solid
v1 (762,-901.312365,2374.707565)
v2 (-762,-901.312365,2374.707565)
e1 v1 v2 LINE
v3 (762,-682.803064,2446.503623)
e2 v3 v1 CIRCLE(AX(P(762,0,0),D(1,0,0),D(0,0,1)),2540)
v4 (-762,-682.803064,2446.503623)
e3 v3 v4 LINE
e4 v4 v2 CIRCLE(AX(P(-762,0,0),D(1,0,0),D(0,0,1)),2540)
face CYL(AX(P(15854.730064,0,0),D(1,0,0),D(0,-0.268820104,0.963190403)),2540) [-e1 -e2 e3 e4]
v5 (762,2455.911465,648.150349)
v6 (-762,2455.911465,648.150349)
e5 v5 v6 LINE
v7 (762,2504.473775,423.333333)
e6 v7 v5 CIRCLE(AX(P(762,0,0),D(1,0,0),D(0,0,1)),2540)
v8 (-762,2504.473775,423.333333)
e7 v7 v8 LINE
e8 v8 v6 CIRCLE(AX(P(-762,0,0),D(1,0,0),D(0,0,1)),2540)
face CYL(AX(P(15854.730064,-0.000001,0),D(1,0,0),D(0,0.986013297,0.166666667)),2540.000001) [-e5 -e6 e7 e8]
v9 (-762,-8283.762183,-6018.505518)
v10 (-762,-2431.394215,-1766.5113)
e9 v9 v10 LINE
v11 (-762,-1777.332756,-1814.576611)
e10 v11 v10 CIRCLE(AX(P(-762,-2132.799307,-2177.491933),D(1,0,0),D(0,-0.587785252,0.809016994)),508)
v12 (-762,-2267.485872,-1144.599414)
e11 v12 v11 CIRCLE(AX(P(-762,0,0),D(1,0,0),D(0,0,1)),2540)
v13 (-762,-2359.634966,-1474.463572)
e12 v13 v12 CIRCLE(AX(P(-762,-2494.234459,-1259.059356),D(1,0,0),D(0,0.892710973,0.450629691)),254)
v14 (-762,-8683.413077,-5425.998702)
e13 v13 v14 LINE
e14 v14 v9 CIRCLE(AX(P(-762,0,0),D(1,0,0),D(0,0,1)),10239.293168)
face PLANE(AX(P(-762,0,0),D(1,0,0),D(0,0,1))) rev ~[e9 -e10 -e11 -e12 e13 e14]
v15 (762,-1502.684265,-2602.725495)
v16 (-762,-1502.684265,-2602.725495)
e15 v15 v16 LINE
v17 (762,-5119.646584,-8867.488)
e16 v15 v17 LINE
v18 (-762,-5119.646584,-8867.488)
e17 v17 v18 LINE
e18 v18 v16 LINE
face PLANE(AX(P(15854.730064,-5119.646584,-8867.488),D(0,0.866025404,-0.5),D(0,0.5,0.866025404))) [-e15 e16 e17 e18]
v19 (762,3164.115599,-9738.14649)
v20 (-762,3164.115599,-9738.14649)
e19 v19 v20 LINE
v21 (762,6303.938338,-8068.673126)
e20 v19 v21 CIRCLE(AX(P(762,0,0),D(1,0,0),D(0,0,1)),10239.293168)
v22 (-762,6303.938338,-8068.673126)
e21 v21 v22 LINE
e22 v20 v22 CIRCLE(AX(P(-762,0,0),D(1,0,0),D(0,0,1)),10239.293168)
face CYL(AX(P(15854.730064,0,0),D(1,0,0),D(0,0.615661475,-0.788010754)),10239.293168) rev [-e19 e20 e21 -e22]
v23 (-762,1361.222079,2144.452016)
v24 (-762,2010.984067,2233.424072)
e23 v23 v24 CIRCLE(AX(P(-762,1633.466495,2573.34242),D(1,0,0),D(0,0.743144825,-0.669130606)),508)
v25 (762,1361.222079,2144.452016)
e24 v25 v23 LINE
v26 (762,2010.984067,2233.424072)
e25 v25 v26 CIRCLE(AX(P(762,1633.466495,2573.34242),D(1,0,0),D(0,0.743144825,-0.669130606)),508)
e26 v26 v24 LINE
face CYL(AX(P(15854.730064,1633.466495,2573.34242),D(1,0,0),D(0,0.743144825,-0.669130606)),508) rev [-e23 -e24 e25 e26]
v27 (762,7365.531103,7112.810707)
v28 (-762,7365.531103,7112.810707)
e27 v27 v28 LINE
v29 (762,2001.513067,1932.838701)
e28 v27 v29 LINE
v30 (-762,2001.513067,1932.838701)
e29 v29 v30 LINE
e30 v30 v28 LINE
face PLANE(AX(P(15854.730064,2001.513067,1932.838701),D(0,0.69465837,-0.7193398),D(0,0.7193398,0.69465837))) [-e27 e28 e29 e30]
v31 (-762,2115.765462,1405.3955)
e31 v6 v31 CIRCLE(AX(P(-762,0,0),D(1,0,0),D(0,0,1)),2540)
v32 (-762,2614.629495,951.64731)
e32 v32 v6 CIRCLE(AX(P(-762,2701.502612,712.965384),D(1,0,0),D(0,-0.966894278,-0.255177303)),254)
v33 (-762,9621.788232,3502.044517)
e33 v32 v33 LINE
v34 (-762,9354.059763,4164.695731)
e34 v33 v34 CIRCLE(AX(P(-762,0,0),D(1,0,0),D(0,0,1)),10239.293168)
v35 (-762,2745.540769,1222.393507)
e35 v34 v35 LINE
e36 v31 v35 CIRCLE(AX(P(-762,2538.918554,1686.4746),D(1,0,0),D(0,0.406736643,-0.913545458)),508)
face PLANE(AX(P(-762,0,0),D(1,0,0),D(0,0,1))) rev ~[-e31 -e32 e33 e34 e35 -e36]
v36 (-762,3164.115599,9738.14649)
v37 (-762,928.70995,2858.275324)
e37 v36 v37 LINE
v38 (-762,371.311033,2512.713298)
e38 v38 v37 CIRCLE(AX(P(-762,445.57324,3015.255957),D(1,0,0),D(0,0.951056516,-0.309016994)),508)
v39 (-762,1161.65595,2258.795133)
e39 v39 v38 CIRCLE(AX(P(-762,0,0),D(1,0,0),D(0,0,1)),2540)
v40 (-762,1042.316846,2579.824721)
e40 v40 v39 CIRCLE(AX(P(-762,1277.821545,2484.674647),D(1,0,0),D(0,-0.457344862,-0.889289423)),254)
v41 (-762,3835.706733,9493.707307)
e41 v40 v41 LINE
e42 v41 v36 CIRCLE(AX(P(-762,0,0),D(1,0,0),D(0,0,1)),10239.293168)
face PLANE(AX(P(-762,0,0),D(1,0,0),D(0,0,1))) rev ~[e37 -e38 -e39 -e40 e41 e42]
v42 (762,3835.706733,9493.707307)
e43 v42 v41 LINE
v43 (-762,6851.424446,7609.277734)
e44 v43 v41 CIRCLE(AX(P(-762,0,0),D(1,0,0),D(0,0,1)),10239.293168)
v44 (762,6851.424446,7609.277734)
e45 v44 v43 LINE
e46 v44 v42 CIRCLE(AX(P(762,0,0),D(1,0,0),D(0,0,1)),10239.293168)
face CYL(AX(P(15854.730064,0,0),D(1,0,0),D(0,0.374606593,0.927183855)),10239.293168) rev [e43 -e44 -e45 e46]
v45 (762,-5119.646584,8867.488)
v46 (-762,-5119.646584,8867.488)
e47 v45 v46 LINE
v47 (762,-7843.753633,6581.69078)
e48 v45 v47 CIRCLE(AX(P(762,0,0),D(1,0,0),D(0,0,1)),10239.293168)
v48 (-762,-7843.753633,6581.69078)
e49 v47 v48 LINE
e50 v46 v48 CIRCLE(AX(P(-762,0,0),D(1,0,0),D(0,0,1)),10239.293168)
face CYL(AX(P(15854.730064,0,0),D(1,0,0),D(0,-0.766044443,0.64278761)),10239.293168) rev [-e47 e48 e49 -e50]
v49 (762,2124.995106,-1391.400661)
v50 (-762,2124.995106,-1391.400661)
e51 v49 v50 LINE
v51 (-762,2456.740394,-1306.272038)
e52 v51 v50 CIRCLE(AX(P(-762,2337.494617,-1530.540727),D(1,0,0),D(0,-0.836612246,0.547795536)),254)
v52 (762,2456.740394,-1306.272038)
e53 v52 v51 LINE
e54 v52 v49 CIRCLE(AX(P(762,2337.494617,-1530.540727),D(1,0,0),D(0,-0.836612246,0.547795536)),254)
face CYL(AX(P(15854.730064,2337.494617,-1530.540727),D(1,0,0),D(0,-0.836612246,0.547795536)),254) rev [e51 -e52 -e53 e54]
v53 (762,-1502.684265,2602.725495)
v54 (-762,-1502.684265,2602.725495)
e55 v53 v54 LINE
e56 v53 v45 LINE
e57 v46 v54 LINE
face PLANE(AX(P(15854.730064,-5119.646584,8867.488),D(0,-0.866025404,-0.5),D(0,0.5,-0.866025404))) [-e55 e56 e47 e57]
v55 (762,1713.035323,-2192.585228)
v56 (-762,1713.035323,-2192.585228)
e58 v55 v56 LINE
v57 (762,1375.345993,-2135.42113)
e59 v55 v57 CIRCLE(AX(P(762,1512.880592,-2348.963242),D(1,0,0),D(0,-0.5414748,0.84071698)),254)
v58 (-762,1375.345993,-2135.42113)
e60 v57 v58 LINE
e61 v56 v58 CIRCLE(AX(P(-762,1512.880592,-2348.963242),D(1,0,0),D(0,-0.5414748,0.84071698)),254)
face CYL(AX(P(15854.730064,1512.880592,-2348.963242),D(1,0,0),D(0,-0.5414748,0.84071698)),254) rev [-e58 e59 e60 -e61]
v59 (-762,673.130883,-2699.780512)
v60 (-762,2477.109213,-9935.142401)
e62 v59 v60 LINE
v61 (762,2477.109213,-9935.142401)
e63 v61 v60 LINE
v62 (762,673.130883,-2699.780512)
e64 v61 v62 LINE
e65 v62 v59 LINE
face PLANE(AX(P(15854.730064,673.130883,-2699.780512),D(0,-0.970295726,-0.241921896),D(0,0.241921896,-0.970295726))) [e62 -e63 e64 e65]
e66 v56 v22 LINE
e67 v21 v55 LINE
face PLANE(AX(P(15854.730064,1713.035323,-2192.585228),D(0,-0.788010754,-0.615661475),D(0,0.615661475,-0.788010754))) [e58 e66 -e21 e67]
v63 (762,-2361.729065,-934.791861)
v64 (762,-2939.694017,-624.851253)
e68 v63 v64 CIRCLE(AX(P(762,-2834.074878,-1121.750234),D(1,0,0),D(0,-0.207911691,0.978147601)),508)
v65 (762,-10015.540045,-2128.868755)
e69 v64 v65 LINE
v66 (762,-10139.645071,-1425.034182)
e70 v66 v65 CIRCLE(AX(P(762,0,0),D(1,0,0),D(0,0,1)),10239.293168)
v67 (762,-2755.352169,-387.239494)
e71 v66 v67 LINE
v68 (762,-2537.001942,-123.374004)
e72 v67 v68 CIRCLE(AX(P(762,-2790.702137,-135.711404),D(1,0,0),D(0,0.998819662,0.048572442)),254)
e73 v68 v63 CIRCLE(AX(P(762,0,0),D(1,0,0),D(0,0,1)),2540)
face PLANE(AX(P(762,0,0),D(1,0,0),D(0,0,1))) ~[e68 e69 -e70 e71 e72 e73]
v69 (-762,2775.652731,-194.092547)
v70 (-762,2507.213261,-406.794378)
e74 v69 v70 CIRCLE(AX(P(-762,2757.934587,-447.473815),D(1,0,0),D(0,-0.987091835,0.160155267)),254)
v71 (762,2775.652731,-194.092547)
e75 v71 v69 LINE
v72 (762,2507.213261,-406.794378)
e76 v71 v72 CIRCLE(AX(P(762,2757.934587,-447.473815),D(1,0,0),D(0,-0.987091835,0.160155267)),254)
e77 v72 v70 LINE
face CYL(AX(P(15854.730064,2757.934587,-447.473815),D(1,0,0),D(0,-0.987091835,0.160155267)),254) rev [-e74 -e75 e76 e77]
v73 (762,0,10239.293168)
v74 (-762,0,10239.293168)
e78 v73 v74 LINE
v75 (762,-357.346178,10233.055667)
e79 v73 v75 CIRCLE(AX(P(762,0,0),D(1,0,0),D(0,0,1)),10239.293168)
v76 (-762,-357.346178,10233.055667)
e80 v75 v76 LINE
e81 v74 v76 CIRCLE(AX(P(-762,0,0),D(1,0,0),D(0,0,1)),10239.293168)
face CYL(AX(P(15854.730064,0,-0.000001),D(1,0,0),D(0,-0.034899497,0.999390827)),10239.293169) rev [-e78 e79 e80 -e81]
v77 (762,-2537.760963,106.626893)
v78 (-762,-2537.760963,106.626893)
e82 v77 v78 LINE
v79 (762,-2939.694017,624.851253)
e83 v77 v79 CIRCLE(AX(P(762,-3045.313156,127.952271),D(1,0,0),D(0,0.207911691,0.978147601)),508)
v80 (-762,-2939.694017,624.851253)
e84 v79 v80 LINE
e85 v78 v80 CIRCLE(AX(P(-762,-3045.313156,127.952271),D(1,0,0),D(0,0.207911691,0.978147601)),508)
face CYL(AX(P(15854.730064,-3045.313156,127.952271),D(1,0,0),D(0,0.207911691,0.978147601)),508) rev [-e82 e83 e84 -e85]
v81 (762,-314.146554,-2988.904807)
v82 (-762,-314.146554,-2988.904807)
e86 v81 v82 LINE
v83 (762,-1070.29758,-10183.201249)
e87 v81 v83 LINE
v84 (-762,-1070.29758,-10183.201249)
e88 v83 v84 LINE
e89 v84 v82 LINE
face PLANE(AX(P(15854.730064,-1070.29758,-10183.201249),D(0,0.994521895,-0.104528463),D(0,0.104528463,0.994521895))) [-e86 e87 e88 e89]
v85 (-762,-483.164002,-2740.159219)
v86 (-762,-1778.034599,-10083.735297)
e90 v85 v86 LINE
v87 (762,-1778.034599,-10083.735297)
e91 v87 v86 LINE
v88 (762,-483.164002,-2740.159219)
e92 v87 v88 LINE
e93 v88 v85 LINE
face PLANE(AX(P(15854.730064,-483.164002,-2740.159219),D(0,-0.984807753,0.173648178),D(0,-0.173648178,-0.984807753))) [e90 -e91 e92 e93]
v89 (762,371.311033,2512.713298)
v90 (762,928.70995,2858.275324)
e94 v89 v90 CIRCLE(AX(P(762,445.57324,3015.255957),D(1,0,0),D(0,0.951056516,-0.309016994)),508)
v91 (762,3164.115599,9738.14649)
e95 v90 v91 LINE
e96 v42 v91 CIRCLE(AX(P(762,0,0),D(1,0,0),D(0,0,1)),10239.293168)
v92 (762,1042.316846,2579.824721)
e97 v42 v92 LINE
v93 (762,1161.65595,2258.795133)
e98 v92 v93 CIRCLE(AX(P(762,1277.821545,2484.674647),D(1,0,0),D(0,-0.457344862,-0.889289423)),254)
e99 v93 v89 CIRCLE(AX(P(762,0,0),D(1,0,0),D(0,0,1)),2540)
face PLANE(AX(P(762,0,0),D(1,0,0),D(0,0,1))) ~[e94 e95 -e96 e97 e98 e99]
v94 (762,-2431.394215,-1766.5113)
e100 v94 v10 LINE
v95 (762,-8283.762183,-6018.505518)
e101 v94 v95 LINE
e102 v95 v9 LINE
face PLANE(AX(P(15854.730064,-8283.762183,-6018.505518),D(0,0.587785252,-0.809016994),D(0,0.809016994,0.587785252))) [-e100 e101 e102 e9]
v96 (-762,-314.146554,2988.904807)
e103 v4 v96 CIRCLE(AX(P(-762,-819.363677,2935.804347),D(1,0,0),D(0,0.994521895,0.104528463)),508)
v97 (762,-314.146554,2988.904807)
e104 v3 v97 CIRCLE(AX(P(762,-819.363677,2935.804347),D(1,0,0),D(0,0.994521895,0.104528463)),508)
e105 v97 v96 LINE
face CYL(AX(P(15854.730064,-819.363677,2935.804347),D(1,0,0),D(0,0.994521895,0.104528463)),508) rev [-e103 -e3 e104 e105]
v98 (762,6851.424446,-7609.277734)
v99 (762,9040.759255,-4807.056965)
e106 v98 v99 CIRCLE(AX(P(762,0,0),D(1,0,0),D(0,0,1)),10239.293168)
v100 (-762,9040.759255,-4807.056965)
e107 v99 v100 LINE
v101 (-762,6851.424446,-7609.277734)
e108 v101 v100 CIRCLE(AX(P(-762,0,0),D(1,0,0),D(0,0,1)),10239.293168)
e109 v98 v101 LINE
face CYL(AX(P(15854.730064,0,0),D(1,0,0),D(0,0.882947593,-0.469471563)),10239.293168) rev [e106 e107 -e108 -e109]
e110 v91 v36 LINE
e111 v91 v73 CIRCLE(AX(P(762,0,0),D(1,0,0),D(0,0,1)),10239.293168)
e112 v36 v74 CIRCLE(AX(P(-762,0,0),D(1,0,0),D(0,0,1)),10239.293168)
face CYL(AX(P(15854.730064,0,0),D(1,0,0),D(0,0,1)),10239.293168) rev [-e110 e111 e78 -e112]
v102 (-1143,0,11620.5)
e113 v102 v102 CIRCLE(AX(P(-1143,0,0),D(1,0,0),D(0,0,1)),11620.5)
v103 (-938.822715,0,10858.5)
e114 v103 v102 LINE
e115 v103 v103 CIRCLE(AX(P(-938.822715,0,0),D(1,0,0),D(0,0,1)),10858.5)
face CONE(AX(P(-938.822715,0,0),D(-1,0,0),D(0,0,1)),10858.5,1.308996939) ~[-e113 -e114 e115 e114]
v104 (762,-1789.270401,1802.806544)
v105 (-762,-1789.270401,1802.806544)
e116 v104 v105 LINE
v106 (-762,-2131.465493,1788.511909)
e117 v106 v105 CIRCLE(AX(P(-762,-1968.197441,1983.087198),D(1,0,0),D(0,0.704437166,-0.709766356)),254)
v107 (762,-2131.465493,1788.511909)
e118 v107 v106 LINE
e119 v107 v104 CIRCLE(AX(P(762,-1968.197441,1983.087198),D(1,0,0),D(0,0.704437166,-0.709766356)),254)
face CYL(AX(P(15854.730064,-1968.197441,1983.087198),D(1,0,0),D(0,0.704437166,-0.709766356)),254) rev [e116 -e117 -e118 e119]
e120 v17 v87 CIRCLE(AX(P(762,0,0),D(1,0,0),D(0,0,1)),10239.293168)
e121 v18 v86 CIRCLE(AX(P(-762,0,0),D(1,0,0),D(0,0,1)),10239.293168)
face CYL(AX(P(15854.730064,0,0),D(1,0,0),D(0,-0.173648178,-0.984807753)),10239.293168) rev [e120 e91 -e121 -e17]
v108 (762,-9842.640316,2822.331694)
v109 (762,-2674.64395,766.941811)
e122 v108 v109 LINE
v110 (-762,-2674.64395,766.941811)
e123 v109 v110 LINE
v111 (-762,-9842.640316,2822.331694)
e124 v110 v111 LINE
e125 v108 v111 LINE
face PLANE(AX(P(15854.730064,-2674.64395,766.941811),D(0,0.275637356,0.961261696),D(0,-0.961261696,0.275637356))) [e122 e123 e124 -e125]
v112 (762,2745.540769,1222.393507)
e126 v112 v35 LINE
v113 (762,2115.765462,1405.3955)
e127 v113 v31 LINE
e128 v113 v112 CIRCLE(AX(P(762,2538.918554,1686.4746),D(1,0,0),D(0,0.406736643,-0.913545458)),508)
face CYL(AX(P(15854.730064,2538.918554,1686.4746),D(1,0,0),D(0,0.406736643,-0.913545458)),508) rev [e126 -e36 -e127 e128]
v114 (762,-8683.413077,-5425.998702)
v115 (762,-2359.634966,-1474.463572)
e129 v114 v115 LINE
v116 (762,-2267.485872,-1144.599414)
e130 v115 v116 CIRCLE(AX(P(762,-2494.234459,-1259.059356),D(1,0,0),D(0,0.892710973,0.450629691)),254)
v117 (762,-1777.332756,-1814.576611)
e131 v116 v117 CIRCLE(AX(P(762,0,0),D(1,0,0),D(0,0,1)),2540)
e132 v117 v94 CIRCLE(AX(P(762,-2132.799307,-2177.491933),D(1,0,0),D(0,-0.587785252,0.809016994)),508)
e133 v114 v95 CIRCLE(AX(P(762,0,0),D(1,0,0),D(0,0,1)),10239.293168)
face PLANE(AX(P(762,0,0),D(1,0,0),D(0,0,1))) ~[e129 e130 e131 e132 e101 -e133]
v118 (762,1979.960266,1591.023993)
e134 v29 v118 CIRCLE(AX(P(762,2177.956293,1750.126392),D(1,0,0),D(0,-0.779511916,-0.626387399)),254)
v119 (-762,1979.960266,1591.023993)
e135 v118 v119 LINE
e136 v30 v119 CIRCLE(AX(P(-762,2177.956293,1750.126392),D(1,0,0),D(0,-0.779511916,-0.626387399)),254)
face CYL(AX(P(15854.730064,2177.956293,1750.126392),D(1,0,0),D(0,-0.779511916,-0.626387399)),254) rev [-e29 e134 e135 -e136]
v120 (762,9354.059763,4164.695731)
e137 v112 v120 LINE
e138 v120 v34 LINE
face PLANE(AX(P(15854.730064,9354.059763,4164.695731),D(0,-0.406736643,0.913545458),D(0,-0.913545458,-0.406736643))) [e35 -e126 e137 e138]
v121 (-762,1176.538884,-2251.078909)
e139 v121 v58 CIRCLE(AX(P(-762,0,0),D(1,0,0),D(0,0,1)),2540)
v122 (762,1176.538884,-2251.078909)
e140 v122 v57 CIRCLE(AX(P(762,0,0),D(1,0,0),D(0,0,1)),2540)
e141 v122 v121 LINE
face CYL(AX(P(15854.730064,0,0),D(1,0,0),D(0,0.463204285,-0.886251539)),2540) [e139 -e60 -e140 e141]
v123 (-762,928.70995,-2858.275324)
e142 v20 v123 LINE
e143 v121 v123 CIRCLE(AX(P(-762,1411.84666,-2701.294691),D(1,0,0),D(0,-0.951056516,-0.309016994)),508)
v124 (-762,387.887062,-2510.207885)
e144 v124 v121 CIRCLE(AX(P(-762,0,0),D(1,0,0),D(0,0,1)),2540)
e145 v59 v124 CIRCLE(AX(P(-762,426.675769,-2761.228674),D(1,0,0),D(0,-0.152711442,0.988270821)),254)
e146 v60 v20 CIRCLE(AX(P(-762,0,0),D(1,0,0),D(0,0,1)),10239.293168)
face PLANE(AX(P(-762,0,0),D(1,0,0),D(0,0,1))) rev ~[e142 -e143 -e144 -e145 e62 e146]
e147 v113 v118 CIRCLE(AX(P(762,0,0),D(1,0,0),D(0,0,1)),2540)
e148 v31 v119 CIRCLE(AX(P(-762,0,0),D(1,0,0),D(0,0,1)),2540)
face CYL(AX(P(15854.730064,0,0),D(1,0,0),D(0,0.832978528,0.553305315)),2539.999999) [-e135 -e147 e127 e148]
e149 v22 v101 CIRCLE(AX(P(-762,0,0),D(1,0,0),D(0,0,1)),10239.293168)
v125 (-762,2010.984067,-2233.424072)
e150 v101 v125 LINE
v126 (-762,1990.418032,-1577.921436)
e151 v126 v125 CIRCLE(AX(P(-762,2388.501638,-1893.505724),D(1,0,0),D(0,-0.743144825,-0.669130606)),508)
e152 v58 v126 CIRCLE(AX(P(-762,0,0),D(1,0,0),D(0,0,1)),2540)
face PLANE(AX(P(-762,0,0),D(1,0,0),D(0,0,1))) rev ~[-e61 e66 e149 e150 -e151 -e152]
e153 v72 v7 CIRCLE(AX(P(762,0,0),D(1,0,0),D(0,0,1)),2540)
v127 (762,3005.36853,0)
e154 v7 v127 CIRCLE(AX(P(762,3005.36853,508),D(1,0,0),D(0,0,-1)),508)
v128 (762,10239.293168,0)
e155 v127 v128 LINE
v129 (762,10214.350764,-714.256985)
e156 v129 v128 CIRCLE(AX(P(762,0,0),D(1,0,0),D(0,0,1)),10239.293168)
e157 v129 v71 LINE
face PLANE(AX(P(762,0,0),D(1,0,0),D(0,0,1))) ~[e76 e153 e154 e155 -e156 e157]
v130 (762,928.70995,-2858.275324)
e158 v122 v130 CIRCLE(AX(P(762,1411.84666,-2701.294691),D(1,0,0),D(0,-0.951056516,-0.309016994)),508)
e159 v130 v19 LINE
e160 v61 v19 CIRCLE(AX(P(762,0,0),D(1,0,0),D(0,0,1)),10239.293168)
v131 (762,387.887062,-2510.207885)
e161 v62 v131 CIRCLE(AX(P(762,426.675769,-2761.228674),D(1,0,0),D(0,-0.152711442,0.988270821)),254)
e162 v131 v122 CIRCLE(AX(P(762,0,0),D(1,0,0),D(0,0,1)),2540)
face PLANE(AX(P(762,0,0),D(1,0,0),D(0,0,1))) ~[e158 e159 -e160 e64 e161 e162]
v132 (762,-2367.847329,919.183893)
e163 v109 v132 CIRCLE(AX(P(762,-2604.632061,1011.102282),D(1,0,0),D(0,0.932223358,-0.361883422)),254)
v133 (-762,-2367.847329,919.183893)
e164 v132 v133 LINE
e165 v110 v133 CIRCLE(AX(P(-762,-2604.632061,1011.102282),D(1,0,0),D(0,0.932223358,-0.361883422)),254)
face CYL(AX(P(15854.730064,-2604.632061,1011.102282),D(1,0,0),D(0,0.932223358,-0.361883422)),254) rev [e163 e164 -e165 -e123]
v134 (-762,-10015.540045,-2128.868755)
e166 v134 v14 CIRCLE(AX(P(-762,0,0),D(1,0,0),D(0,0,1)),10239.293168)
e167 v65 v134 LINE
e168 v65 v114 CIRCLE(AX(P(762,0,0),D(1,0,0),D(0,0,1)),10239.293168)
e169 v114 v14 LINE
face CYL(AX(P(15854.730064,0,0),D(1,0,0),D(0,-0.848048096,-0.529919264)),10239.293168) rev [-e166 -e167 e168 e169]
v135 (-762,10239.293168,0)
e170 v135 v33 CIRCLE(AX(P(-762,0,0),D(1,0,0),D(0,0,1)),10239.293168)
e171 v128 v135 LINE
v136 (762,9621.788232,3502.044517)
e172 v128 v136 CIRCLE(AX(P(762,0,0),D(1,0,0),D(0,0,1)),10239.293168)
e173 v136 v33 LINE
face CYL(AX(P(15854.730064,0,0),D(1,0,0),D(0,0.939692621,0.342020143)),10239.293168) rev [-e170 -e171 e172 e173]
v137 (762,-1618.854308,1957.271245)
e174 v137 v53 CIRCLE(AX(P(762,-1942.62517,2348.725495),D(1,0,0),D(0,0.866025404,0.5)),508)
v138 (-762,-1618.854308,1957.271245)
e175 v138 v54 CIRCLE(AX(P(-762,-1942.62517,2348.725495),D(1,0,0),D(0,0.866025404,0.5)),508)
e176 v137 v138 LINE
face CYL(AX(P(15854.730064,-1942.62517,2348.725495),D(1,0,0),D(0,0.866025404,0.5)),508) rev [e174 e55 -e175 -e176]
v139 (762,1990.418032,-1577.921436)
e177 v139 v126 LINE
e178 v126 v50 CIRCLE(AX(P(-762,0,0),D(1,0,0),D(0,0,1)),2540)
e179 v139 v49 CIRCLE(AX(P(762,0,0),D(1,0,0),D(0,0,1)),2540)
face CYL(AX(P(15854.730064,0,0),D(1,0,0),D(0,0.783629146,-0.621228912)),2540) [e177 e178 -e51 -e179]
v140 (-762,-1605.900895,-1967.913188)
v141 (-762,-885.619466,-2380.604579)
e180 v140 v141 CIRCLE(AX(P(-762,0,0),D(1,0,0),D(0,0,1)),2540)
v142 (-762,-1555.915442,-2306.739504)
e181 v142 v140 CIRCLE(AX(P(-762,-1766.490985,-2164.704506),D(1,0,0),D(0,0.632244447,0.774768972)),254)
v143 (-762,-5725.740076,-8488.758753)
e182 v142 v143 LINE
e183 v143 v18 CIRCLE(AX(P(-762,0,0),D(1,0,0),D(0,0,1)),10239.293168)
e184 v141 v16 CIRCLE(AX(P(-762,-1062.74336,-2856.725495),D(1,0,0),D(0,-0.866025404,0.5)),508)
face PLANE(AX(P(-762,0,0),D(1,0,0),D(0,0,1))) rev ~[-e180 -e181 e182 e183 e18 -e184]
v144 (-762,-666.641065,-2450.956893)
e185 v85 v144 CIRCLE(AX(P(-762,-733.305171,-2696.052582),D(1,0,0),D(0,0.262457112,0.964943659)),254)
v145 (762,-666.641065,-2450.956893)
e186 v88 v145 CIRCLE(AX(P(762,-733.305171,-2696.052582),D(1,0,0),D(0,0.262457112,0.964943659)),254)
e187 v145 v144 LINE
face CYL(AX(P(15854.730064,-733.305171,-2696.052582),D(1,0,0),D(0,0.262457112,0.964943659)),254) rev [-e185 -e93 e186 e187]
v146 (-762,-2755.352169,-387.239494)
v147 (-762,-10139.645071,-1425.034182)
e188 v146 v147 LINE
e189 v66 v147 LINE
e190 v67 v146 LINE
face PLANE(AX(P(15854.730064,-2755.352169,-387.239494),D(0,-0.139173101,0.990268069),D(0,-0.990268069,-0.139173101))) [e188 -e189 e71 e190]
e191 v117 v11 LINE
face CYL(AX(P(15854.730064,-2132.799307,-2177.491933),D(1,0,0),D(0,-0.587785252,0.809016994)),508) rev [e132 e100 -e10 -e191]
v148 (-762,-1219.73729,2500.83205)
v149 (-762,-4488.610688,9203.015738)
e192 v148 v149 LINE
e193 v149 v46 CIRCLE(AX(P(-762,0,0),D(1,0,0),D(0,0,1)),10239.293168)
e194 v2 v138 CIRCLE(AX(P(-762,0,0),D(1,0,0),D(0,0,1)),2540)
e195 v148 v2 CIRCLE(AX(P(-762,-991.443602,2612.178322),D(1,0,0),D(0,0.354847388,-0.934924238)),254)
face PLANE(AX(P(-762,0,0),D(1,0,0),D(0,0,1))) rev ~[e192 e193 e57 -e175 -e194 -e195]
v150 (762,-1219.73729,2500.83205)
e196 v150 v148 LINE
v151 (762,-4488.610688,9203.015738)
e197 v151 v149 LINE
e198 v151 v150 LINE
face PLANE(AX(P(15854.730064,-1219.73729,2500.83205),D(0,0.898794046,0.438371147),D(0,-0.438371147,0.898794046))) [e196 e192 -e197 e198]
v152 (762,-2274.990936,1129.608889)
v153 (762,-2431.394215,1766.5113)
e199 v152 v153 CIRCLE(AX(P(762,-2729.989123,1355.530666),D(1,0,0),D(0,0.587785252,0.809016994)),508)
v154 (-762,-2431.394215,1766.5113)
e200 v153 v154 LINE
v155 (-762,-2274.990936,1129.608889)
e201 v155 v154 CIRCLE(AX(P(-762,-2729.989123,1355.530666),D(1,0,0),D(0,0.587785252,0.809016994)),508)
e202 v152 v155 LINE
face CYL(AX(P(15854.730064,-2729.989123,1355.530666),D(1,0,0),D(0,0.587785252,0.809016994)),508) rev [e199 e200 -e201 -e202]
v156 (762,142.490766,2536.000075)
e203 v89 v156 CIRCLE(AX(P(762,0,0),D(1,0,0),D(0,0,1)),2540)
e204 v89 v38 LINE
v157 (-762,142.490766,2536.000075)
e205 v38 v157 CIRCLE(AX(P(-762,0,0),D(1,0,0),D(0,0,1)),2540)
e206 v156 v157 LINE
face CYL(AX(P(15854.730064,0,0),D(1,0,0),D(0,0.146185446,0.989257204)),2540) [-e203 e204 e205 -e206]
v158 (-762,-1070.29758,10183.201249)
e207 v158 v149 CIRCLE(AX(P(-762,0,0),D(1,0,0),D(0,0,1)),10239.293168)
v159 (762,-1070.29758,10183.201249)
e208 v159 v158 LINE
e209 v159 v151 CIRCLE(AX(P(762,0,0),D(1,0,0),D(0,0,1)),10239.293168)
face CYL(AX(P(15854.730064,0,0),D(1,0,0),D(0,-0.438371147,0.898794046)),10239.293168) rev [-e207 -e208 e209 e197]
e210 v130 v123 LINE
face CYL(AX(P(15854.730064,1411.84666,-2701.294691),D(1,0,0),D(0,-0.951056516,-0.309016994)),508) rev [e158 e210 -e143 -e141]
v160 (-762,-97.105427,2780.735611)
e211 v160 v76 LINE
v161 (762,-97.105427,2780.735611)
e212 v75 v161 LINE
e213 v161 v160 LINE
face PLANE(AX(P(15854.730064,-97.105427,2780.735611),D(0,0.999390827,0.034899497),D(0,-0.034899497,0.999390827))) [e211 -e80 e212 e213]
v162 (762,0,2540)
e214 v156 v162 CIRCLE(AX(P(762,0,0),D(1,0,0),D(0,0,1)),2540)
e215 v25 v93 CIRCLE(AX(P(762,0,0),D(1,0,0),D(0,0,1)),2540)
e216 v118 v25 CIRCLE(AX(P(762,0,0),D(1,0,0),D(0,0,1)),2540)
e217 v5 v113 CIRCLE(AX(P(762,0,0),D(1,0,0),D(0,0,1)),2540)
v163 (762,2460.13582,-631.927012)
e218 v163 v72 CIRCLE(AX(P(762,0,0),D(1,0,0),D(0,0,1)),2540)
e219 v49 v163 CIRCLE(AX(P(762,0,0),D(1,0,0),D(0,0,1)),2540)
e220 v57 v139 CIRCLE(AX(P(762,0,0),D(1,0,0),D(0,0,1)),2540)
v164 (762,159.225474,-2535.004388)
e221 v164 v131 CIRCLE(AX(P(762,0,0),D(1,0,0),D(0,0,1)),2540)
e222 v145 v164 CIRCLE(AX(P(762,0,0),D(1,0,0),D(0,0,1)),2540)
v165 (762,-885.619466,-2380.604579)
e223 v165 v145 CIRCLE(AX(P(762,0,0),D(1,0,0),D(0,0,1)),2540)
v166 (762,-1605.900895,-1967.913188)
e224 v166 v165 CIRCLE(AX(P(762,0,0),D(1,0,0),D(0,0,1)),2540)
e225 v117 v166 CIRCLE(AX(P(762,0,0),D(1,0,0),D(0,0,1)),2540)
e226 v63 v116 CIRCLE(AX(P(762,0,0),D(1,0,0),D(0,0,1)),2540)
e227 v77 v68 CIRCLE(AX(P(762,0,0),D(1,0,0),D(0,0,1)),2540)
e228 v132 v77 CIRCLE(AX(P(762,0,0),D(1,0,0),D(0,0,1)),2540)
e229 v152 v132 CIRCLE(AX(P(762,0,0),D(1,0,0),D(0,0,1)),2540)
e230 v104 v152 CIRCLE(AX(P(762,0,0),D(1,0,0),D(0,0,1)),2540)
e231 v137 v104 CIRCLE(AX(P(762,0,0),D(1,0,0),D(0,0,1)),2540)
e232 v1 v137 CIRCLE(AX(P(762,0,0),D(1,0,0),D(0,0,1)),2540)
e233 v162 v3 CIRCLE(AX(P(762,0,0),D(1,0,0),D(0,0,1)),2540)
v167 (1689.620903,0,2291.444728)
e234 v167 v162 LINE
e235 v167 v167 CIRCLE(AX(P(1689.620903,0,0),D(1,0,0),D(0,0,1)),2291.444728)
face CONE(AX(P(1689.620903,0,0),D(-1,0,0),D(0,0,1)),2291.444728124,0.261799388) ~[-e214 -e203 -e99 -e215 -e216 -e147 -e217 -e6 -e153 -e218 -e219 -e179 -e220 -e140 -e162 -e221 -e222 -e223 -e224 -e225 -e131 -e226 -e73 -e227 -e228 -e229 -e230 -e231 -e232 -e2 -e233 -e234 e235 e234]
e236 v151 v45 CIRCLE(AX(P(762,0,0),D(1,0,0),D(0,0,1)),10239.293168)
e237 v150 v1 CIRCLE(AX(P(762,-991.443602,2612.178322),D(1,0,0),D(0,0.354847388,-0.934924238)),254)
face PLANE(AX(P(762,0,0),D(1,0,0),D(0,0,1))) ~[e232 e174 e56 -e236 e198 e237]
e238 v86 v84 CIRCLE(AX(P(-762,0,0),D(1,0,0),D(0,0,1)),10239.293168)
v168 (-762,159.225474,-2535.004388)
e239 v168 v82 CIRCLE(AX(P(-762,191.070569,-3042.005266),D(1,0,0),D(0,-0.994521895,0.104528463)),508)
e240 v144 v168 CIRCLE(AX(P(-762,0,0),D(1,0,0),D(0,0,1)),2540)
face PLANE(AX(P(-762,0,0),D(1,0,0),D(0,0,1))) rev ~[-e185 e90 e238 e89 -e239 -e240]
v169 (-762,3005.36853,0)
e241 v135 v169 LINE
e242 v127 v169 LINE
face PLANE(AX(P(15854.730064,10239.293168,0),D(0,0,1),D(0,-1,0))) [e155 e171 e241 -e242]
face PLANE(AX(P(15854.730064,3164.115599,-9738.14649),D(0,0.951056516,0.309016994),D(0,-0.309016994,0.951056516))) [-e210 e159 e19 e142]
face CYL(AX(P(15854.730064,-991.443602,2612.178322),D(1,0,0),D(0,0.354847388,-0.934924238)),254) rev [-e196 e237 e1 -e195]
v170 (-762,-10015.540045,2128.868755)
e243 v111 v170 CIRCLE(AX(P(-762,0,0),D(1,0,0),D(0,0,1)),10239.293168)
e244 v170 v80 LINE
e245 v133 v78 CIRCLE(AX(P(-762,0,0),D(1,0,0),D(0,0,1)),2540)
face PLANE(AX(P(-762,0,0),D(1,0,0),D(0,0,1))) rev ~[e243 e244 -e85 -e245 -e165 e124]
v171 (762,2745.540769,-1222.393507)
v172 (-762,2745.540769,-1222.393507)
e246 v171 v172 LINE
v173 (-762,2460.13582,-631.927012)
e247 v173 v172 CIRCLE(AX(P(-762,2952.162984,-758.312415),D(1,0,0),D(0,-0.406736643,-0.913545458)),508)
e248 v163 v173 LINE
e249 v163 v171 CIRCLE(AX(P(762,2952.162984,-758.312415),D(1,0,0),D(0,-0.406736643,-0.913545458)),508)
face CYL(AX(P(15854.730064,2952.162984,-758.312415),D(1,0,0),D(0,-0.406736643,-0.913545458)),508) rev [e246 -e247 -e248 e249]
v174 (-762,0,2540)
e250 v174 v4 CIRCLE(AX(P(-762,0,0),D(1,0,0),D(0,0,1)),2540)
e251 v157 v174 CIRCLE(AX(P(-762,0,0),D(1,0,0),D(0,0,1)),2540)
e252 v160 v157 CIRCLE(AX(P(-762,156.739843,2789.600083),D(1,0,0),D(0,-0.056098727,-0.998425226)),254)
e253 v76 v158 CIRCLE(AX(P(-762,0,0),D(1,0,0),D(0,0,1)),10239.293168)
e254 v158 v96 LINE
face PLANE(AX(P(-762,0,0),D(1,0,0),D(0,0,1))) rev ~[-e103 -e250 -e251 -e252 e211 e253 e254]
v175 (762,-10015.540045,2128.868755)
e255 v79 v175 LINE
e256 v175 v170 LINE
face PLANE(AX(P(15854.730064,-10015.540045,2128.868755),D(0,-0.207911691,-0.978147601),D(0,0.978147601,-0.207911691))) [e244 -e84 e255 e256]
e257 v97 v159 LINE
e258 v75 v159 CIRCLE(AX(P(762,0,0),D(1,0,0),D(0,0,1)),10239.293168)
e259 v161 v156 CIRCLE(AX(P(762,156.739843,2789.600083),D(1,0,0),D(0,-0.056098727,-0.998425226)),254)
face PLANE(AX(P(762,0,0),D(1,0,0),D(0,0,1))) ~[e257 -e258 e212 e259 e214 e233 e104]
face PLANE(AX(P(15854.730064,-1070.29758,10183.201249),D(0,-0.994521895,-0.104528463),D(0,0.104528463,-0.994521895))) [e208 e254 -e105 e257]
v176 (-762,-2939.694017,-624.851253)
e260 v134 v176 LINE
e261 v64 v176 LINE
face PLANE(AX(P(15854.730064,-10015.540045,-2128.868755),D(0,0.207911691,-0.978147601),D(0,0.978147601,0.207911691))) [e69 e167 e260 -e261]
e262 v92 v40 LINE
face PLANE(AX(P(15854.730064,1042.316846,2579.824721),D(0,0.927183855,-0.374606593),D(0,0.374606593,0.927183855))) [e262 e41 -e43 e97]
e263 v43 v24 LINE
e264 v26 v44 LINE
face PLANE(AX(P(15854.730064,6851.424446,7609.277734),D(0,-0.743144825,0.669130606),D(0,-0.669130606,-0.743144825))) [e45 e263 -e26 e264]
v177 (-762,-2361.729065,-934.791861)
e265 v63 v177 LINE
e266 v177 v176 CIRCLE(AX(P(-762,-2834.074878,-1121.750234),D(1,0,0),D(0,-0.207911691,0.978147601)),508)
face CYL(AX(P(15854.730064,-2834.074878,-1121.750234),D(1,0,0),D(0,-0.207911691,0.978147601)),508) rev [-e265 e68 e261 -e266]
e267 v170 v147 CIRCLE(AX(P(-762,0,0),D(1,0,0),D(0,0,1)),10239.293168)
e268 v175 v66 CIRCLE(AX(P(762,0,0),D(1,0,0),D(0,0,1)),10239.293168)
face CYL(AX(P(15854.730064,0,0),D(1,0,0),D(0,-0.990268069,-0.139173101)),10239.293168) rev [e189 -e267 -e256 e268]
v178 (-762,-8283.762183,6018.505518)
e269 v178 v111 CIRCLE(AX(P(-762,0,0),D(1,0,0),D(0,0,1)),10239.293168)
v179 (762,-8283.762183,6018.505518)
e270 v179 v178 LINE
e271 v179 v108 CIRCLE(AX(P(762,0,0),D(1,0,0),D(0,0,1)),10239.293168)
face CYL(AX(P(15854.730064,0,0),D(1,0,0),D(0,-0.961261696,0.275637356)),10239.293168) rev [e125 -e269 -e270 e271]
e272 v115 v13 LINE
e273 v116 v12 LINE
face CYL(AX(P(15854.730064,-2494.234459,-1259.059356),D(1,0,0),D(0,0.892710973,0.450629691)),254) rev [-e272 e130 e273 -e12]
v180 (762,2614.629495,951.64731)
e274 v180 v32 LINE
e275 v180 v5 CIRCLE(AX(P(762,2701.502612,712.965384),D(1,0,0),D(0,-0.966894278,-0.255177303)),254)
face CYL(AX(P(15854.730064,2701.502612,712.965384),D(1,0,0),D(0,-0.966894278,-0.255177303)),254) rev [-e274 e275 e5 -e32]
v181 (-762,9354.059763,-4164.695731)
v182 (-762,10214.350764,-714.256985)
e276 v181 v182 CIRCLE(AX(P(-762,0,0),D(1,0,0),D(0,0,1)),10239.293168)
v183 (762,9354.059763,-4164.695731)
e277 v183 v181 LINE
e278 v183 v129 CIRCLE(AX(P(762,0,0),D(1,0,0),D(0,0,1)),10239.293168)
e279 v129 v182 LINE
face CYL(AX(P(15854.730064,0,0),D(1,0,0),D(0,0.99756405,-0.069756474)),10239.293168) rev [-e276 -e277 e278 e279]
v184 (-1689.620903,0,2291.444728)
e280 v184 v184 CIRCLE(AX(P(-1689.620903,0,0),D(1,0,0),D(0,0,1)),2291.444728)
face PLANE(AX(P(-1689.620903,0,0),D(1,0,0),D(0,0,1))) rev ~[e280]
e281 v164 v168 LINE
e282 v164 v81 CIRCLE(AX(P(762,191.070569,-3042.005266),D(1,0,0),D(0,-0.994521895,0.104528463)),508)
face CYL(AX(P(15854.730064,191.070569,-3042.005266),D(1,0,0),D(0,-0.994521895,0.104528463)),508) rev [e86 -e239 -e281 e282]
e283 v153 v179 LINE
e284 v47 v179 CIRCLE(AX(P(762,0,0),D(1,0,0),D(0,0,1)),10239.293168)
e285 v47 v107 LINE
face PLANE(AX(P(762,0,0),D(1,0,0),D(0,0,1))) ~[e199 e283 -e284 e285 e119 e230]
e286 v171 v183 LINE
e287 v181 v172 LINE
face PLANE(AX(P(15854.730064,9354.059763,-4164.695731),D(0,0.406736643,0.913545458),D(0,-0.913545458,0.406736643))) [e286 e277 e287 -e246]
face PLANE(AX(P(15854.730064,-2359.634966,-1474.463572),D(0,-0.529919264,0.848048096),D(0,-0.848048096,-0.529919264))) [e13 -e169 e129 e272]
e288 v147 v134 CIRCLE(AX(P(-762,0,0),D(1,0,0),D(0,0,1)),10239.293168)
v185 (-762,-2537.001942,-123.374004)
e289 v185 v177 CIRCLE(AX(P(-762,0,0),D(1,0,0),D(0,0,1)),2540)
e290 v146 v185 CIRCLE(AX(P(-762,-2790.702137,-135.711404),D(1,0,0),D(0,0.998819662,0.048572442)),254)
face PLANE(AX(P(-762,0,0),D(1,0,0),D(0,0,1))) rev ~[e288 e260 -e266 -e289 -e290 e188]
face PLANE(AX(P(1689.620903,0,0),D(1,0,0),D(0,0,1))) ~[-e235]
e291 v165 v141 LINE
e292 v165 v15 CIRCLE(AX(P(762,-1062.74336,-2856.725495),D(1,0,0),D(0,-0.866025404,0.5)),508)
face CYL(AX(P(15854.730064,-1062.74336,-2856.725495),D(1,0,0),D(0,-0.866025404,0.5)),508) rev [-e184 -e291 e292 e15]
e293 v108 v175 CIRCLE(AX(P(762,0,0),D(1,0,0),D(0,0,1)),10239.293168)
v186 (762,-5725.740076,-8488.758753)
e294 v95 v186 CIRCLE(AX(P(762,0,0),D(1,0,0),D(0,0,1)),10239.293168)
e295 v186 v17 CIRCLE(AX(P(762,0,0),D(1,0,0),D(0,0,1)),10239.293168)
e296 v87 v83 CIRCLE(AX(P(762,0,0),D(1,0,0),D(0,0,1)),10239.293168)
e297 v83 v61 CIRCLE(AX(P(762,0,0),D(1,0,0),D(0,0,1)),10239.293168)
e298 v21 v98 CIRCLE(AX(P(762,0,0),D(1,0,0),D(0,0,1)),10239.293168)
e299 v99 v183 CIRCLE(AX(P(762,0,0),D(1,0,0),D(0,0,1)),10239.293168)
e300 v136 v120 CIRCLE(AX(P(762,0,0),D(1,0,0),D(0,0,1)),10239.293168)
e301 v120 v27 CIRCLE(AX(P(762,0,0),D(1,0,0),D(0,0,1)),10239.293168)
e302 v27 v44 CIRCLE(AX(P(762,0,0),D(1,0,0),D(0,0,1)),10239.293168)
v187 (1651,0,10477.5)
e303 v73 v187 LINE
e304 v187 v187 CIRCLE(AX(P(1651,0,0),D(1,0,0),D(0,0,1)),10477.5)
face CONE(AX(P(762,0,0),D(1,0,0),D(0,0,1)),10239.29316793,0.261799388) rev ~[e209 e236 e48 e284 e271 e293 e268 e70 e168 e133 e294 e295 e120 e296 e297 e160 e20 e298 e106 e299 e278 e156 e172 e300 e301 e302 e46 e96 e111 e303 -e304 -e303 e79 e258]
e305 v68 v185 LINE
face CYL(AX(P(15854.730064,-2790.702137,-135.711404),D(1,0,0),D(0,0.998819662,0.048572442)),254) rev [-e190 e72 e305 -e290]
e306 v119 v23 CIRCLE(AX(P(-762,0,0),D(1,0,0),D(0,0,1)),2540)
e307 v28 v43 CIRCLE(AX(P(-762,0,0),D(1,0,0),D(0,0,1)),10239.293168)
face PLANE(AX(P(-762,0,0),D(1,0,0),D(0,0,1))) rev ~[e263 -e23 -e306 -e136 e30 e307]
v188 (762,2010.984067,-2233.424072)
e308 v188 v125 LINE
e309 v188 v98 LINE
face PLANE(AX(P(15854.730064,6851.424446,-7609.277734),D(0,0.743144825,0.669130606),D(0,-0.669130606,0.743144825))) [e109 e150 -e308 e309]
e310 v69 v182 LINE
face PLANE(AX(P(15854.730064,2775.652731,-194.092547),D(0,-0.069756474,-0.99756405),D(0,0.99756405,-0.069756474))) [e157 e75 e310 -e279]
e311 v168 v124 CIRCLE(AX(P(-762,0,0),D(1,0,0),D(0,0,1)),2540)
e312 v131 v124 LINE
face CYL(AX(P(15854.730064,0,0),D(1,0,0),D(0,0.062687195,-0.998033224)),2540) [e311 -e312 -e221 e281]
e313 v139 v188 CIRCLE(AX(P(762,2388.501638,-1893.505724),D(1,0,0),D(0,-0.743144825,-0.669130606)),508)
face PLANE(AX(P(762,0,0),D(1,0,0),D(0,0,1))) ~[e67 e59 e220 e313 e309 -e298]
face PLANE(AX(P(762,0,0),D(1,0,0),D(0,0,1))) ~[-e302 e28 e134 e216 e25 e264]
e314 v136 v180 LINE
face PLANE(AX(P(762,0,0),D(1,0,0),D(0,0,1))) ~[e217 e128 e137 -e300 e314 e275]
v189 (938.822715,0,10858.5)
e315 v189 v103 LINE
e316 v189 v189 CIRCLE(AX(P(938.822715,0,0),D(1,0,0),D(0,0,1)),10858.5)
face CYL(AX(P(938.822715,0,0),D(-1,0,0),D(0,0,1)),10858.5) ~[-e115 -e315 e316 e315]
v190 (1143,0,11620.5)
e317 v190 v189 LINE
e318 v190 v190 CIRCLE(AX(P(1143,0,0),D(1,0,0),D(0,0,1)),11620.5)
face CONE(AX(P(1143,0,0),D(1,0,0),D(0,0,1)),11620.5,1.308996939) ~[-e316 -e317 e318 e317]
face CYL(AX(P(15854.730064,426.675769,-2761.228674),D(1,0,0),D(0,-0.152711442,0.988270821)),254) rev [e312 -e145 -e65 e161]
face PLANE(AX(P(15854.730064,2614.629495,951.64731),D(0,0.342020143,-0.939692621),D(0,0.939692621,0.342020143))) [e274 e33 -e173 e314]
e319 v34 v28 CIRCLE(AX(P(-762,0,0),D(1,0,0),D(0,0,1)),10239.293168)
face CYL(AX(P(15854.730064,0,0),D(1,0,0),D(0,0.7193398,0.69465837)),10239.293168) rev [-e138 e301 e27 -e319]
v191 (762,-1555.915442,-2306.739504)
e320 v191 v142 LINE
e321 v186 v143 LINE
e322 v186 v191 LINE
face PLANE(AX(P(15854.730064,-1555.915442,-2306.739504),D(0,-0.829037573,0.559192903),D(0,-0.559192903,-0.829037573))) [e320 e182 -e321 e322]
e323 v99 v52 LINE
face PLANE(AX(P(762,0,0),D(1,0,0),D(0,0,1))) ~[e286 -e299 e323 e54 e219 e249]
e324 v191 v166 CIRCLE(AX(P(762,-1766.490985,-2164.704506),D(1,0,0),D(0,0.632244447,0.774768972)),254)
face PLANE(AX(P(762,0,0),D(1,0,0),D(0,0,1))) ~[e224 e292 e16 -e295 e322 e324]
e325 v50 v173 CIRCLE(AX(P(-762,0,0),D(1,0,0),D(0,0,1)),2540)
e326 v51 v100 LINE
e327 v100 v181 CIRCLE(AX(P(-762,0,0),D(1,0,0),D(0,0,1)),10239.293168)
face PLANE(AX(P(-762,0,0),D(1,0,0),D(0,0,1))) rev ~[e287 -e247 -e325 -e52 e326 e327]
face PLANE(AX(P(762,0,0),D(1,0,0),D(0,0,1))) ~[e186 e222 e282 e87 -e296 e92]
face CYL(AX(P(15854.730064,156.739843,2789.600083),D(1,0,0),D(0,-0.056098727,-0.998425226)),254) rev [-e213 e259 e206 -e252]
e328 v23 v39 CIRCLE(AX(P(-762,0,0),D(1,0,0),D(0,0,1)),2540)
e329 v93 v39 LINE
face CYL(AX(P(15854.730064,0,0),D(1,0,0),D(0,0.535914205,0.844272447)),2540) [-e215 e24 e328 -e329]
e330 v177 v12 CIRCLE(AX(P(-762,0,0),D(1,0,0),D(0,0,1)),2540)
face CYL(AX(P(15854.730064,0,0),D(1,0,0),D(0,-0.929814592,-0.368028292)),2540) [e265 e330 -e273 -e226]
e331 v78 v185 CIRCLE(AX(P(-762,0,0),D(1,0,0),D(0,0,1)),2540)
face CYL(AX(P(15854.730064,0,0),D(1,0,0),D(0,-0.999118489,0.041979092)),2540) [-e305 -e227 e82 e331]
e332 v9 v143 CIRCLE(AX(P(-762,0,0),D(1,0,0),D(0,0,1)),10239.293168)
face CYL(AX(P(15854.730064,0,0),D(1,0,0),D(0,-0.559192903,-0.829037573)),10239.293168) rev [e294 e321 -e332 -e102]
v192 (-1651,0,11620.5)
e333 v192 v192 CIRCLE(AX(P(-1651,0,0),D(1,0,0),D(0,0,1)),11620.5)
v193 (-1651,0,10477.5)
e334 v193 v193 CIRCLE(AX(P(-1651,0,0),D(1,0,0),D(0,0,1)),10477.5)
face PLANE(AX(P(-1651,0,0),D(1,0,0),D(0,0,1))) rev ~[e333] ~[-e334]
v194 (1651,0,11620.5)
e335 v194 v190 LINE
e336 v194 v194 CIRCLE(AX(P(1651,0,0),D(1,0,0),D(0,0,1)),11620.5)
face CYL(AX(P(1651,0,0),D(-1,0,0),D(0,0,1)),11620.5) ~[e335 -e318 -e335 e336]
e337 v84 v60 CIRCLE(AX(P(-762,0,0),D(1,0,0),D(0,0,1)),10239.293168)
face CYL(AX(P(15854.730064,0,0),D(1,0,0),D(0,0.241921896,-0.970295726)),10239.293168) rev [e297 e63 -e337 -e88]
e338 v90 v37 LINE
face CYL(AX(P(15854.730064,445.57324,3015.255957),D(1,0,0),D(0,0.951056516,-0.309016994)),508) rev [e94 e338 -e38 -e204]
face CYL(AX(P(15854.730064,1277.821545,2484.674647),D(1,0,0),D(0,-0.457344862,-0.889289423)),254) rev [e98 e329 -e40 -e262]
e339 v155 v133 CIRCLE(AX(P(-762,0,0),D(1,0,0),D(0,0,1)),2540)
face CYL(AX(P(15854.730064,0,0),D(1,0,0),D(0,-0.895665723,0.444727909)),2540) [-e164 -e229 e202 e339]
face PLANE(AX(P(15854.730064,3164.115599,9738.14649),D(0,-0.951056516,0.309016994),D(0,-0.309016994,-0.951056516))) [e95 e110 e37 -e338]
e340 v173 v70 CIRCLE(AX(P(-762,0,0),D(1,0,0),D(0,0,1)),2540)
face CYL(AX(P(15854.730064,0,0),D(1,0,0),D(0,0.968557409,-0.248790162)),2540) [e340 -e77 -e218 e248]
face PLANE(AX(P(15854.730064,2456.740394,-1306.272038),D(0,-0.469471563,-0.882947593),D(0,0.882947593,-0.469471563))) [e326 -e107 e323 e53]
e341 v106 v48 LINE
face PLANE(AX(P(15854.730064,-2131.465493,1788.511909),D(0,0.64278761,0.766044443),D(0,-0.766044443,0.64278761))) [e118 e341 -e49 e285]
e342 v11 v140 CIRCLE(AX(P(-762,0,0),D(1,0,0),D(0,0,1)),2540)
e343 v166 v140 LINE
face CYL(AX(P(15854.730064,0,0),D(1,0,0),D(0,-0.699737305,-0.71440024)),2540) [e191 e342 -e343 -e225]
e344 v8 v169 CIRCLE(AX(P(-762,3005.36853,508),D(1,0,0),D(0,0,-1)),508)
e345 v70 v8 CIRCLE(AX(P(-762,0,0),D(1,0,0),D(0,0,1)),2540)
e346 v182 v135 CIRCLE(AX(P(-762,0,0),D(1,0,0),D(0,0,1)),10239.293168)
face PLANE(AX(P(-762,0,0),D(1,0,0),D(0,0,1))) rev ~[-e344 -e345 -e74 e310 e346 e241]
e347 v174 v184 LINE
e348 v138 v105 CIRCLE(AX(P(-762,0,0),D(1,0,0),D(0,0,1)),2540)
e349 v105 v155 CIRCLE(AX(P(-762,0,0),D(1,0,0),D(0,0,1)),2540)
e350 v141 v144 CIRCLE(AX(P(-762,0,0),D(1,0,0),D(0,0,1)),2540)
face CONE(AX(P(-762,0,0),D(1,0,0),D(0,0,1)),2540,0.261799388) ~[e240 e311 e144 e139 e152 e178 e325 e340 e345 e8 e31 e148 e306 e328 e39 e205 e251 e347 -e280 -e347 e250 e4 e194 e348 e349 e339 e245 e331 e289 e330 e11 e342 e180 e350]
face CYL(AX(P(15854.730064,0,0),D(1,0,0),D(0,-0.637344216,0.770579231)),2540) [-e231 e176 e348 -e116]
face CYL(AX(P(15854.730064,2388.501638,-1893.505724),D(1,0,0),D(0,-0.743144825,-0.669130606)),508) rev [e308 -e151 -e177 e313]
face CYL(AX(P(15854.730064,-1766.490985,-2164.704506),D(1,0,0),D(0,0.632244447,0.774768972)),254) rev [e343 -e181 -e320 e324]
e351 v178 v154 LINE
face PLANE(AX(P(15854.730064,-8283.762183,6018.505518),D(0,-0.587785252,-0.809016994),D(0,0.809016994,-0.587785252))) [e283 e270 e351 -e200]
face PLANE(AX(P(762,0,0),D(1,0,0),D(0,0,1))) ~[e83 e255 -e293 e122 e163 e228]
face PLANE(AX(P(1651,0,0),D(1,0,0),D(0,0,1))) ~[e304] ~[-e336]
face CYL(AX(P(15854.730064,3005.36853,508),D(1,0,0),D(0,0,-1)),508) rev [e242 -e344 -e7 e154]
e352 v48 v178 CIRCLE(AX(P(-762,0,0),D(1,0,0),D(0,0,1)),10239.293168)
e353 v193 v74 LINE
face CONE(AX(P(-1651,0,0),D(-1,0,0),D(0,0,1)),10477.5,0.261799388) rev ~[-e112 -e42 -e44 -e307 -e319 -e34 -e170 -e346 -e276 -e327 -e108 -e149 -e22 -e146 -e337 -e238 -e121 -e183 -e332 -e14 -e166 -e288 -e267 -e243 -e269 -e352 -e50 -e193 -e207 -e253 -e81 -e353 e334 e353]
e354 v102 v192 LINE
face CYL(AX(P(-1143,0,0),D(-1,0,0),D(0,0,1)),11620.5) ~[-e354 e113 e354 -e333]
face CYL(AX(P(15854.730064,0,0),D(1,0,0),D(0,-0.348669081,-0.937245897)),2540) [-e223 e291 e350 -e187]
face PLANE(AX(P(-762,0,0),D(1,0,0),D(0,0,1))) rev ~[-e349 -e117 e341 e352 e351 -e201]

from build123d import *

# Parameters (mm, degrees)
CUT_EXTRUDE1_DEPTH      = 16616.730063788
CUT_EXTRUDE1_DEPTH_BACK = 16616.730063788


with BuildPart() as part:
    # Sketch1 → Revolve1 (revolve)
    with BuildSketch(Plane.XY, mode=Mode.PRIVATE) as revolve1_sk:
        Polygon((-1689.620903129, 0), (1689.620903129, 0), (1689.620903129, 2291.444728124), (762, 2540), (762, 10239.293167929), (1651, 10477.5), (1651, 11620.5), (1143, 11620.5), (938.822715367, 10858.5), (0, 10858.5), (-938.822715367, 10858.5), (-1143, 11620.5), (-1651, 11620.5), (-1651, 10477.5), (-762, 10239.293167929), (-762, 2540), (-1689.620903129, 2291.444728124), align=None)
    revolve(revolve1_sk.sketch.rotate(Axis((-3022.321274336, 0, 0), (1, 0, 0)), 90), axis=Axis((-3022.321274336, 0, 0), (1, 0, 0)))

    # Sketch2 → Cut-Extrude1 (cut, two sides: drawn at the far end of the back side and taken through both)
    with BuildSketch(Plane.ZY.offset(762).offset(-CUT_EXTRUDE1_DEPTH_BACK)):
        with BuildLine():
            ThreePointArc((-1425.03418182, -10139.645070684), (357.34617815, -10233.055667187), (2128.868755323, -10015.54004542))
            Line((2128.868755323, -10015.54004542), (624.851252564, -2939.694016759))
            ThreePointArc((624.851252564, -2939.694016759), (439.28827603, -2643.898292722), (106.626892826, -2537.760963079))
            ThreePointArc((106.626892826, -2537.760963079), (-8.382151286, -2539.986169163), (-123.374003865, -2537.001942287))
            ThreePointArc((-123.374003865, -2537.001942287), (-297.644266258, -2595.014251856), (-387.239493712, -2755.352168872))
            Line((-387.239493712, -2755.352168872), (-1425.03418182, -10139.645070684))
        make_face()
        with BuildLine():
            Line((-1474.46357216, -2359.63496634), (-5425.998701817, -8683.413077049))
            ThreePointArc((-5425.998701817, -8683.413077049), (-3835.706732625, -9493.70730748), (-2128.868755323, -10015.54004542))
            Line((-2128.868755323, -10015.54004542), (-624.851252564, -2939.694016759))
            ThreePointArc((-624.851252564, -2939.694016759), (-674.060507052, -2593.99591452), (-934.791861448, -2361.729064853))
            ThreePointArc((-934.791861448, -2361.729064853), (-1040.762924137, -2316.983499238), (-1144.599414305, -2267.485872232))
            ThreePointArc((-1144.599414305, -2267.485872232), (-1327.398952967, -2249.600652613), (-1474.46357216, -2359.63496634))
        make_face()
        with BuildLine():
            ThreePointArc((2822.331694243, -9842.640315813), (4488.610688334, -9203.015737646), (6018.505518008, -8283.762183242))
            Line((6018.505518008, -8283.762183242), (1766.511299529, -2431.39421498))
            ThreePointArc((1766.511299529, -2431.39421498), (1476.680125379, -2236.64663705), (1129.608888655, -2274.990935954))
            ThreePointArc((1129.608888655, -2274.990935954), (1025.447971672, -2323.80215539), (919.18389266, -2367.847328582))
            ThreePointArc((919.18389266, -2367.847328582), (783.575818101, -2491.726311989), (766.941811158, -2674.643949818))
            Line((766.941811158, -2674.643949818), (2822.331694243, -9842.640315813))
        make_face()
        with BuildLine():
            ThreePointArc((6581.690780293, -7843.753632758), (7843.753632758, -6581.690780293), (8867.488000223, -5119.646583964))
            Line((8867.488000223, -5119.646583964), (2602.725494554, -1502.684264907))
            ThreePointArc((2602.725494554, -1502.684264907), (2258.740565831, -1442.658458535), (1957.271245461, -1618.854308358))
            ThreePointArc((1957.271245461, -1618.854308358), (1881.968824425, -1705.81163787), (1802.806543622, -1789.270400547))
            ThreePointArc((1802.806543622, -1789.270400547), (1729.308524947, -1957.596256157), (1788.511909432, -2131.465493463))
            Line((1788.511909432, -2131.465493463), (6581.690780293, -7843.753632758))
        make_face()
        with BuildLine():
            ThreePointArc((9203.015737646, -4488.610688335), (9842.640315813, -2822.331694243), (10183.2012486, -1070.297579791))
            Line((10183.2012486, -1070.297579791), (2988.904806551, -314.146553974))
            ThreePointArc((2988.904806551, -314.146553974), (2650.244242438, -399.221526399), (2446.503622676, -682.803064018))
            ThreePointArc((2446.503622676, -682.803064018), (2413.080170285, -792.87079135), (2374.707565207, -901.312365247))
            ThreePointArc((2374.707565207, -901.312365247), (2376.028077555, -1084.980023431), (2500.832050444, -1219.737289531))
            Line((2500.832050444, -1219.737289531), (9203.015737646, -4488.610688335))
        make_face()
        with BuildLine():
            ThreePointArc((10239.293167929, 0), (10113.230477899, 1601.778349115), (9738.146489615, 3164.115599277))
            Line((9738.146489615, 3164.115599277), (2858.275324149, 928.709950072))
            ThreePointArc((2858.275324149, 928.709950072), (2583.496612813, 713.244434465), (2512.713297743, 371.311033162))
            ThreePointArc((2512.713297743, 371.311033162), (2526.948032558, 257.164618), (2536.000075228, 142.490766171))
            ThreePointArc((2536.000075228, 142.490766171), (2611.910790016, -24.76088792), (2780.735610588, -97.105427275))
            Line((2780.735610588, -97.105427275), (10233.055667187, -357.34617815))
            ThreePointArc((10233.055667187, -357.34617815), (10237.733673984, -178.700305997), (10239.293167929, 0))
        make_face()
        with BuildLine():
            ThreePointArc((9493.70730748, 3835.706732625), (8683.413077049, 5425.998701817), (7609.277734292, 6851.424446142))
            Line((7609.277734292, 6851.424446142), (2233.424071584, 2010.984066687))
            ThreePointArc((2233.424071584, 2010.984066687), (2070.038948504, 1702.383952988), (2144.452016346, 1361.222079453))
            ThreePointArc((2144.452016346, 1361.222079453), (2203.883623399, 1262.73392863), (2258.795133404, 1161.65594963))
            ThreePointArc((2258.795133404, 1161.65594963), (2396.170398419, 1039.739630058), (2579.824721472, 1042.316845533))
            Line((2579.824721472, 1042.316845533), (9493.70730748, 3835.706732625))
        make_face()
        with BuildLine():
            ThreePointArc((7112.810706685, 7365.531103027), (5725.740076062, 8488.758752619), (4164.695730592, 9354.059763032))
            Line((4164.695730592, 9354.059763032), (1222.393507022, 2745.540768954))
            ThreePointArc((1222.393507022, 2745.540768954), (1198.652744285, 2397.165820366), (1405.395499587, 2115.765461893))
            ThreePointArc((1405.395499587, 2115.765461893), (1499.747714101, 2049.965071422), (1591.023992505, 1979.960266084))
            ThreePointArc((1591.023992505, 1979.960266084), (1766.110376411, 1924.459720261), (1932.838701042, 2001.513066596))
            Line((1932.838701042, 2001.513066596), (7112.810706685, 7365.531103027))
        make_face()
        with BuildLine():
            Line((0, 10239.293167929), (0, 3005.368529815))
            ThreePointArc((0, 3005.368529815), (120.00859116, 2677.455939836), (423.333333333, 2504.473774846))
            ThreePointArc((423.333333333, 2504.473774846), (536.291800254, 2482.738630017), (648.150349303, 2455.911465159))
            ThreePointArc((648.150349303, 2455.911465159), (830.673825712, 2476.423241663), (951.647309913, 2614.62949527))
            Line((951.647309913, 2614.62949527), (3502.044516849, 9621.788231966))
            ThreePointArc((3502.044516849, 9621.788231966), (1778.034599208, 10083.735297141), (0, 10239.293167929))
        make_face()
        with BuildLine():
            Line((-194.092546544, 2775.652731048), (-714.256985027, 10214.350764397))
            ThreePointArc((-714.256985027, 10214.350764397), (-2477.109212786, 9935.142400928), (-4164.695730592, 9354.059763032))
            Line((-4164.695730592, 9354.059763032), (-1222.393507022, 2745.540768954))
            ThreePointArc((-1222.393507022, 2745.540768954), (-979.386137619, 2494.789603384), (-631.927012117, 2460.135819697))
            ThreePointArc((-631.927012117, 2460.135819697), (-519.893837915, 2486.22412451), (-406.794377555, 2507.213260652))
            ThreePointArc((-406.794377555, 2507.213260652), (-248.393775888, 2600.190686983), (-194.092546544, 2775.652731048))
        make_face()
        with BuildLine():
            Line((-1306.272038429, 2456.740393615), (-4807.05696537, 9040.7592552))
            ThreePointArc((-4807.05696537, 9040.7592552), (-6303.938338059, 8068.67312566), (-7609.277734292, 6851.424446142))
            Line((-7609.277734292, 6851.424446142), (-2233.424071584, 2010.984066687))
            ThreePointArc((-2233.424071584, 2010.984066687), (-1909.436105761, 1880.751480055), (-1577.921436295, 1990.418031691))
            ThreePointArc((-1577.921436295, 1990.418031691), (-1486.185108421, 2059.818881239), (-1391.400660923, 2124.995106061))
            ThreePointArc((-1391.400660923, 2124.995106061), (-1284.511837049, 2274.361540533), (-1306.272038429, 2456.740393615))
        make_face()
        with BuildLine():
            Line((-2192.58522776, 1713.03532334), (-8068.67312566, 6303.938338059))
            ThreePointArc((-8068.67312566, 6303.938338059), (-9040.759255199, 4807.05696537), (-9738.146489615, 3164.115599277))
            Line((-9738.146489615, 3164.115599277), (-2858.275324149, 928.709950072))
            ThreePointArc((-2858.275324149, 928.709950072), (-2509.327224534, 941.514339734), (-2251.078909172, 1176.538883625))
            ThreePointArc((-2251.078909172, 1176.538883625), (-2195.501472113, 1277.252240534), (-2135.421129539, 1375.345992658))
            ThreePointArc((-2135.421129539, 1375.345992658), (-2098.526132161, 1555.274621798), (-2192.58522776, 1713.03532334))
        make_face()
        with BuildLine():
            Line((-2699.7805122, 673.130883222), (-9935.142400928, 2477.109212786))
            ThreePointArc((-9935.142400928, 2477.109212786), (-10214.350764397, 714.256985027), (-10183.2012486, -1070.29757979))
            Line((-10183.2012486, -1070.29757979), (-2988.904806551, -314.146553974))
            ThreePointArc((-2988.904806551, -314.146553974), (-2675.332869663, -160.519183317), (-2535.004388243, 159.225474061))
            ThreePointArc((-2535.004388243, 159.225474061), (-2525.195685772, 273.837083968), (-2510.207885165, 387.887062498))
            ThreePointArc((-2510.207885165, 387.887062498), (-2549.686194511, 567.266591728), (-2699.7805122, 673.130883222))
        make_face()
        with BuildLine():
            Line((-2740.159219344, -483.164001807), (-10083.735297141, -1778.034599208))
            ThreePointArc((-10083.735297141, -1778.034599208), (-9621.788231966, -3502.044516848), (-8867.488000223, -5119.646583964))
            Line((-8867.488000223, -5119.646583964), (-2602.725494554, -1502.684264907))
            ThreePointArc((-2602.725494554, -1502.684264907), (-2378.749156991, -1234.797481301), (-2380.604578795, -885.619466487))
            ThreePointArc((-2380.604578795, -885.619466487), (-2418.260624679, -776.926992148), (-2450.956892924, -666.641064611))
            ThreePointArc((-2450.956892924, -666.641064611), (-2559.982350659, -518.826985507), (-2740.159219344, -483.164001807))
        make_face()
        with BuildLine():
            Line((-2306.739503899, -1555.915441517), (-8488.758752619, -5725.740076062))
            ThreePointArc((-8488.758752619, -5725.740076062), (-7365.531103027, -7112.810706685), (-6018.505518008, -8283.762183242))
            Line((-6018.505518008, -8283.762183242), (-1766.511299529, -2431.39421498))
            ThreePointArc((-1766.511299529, -2431.39421498), (-1670.858104818, -2095.568076985), (-1814.57661056, -1777.332755679))
            ThreePointArc((-1814.57661056, -1777.332755679), (-1893.18633237, -1693.353333161), (-1967.913187652, -1605.900895405))
            ThreePointArc((-1967.913187652, -1605.900895405), (-2127.634301667, -1515.210663552), (-2306.739503899, -1555.915441517))
        make_face()
    extrude(amount=CUT_EXTRUDE1_DEPTH + CUT_EXTRUDE1_DEPTH_BACK, mode=Mode.SUBTRACT)


solid = part.part
